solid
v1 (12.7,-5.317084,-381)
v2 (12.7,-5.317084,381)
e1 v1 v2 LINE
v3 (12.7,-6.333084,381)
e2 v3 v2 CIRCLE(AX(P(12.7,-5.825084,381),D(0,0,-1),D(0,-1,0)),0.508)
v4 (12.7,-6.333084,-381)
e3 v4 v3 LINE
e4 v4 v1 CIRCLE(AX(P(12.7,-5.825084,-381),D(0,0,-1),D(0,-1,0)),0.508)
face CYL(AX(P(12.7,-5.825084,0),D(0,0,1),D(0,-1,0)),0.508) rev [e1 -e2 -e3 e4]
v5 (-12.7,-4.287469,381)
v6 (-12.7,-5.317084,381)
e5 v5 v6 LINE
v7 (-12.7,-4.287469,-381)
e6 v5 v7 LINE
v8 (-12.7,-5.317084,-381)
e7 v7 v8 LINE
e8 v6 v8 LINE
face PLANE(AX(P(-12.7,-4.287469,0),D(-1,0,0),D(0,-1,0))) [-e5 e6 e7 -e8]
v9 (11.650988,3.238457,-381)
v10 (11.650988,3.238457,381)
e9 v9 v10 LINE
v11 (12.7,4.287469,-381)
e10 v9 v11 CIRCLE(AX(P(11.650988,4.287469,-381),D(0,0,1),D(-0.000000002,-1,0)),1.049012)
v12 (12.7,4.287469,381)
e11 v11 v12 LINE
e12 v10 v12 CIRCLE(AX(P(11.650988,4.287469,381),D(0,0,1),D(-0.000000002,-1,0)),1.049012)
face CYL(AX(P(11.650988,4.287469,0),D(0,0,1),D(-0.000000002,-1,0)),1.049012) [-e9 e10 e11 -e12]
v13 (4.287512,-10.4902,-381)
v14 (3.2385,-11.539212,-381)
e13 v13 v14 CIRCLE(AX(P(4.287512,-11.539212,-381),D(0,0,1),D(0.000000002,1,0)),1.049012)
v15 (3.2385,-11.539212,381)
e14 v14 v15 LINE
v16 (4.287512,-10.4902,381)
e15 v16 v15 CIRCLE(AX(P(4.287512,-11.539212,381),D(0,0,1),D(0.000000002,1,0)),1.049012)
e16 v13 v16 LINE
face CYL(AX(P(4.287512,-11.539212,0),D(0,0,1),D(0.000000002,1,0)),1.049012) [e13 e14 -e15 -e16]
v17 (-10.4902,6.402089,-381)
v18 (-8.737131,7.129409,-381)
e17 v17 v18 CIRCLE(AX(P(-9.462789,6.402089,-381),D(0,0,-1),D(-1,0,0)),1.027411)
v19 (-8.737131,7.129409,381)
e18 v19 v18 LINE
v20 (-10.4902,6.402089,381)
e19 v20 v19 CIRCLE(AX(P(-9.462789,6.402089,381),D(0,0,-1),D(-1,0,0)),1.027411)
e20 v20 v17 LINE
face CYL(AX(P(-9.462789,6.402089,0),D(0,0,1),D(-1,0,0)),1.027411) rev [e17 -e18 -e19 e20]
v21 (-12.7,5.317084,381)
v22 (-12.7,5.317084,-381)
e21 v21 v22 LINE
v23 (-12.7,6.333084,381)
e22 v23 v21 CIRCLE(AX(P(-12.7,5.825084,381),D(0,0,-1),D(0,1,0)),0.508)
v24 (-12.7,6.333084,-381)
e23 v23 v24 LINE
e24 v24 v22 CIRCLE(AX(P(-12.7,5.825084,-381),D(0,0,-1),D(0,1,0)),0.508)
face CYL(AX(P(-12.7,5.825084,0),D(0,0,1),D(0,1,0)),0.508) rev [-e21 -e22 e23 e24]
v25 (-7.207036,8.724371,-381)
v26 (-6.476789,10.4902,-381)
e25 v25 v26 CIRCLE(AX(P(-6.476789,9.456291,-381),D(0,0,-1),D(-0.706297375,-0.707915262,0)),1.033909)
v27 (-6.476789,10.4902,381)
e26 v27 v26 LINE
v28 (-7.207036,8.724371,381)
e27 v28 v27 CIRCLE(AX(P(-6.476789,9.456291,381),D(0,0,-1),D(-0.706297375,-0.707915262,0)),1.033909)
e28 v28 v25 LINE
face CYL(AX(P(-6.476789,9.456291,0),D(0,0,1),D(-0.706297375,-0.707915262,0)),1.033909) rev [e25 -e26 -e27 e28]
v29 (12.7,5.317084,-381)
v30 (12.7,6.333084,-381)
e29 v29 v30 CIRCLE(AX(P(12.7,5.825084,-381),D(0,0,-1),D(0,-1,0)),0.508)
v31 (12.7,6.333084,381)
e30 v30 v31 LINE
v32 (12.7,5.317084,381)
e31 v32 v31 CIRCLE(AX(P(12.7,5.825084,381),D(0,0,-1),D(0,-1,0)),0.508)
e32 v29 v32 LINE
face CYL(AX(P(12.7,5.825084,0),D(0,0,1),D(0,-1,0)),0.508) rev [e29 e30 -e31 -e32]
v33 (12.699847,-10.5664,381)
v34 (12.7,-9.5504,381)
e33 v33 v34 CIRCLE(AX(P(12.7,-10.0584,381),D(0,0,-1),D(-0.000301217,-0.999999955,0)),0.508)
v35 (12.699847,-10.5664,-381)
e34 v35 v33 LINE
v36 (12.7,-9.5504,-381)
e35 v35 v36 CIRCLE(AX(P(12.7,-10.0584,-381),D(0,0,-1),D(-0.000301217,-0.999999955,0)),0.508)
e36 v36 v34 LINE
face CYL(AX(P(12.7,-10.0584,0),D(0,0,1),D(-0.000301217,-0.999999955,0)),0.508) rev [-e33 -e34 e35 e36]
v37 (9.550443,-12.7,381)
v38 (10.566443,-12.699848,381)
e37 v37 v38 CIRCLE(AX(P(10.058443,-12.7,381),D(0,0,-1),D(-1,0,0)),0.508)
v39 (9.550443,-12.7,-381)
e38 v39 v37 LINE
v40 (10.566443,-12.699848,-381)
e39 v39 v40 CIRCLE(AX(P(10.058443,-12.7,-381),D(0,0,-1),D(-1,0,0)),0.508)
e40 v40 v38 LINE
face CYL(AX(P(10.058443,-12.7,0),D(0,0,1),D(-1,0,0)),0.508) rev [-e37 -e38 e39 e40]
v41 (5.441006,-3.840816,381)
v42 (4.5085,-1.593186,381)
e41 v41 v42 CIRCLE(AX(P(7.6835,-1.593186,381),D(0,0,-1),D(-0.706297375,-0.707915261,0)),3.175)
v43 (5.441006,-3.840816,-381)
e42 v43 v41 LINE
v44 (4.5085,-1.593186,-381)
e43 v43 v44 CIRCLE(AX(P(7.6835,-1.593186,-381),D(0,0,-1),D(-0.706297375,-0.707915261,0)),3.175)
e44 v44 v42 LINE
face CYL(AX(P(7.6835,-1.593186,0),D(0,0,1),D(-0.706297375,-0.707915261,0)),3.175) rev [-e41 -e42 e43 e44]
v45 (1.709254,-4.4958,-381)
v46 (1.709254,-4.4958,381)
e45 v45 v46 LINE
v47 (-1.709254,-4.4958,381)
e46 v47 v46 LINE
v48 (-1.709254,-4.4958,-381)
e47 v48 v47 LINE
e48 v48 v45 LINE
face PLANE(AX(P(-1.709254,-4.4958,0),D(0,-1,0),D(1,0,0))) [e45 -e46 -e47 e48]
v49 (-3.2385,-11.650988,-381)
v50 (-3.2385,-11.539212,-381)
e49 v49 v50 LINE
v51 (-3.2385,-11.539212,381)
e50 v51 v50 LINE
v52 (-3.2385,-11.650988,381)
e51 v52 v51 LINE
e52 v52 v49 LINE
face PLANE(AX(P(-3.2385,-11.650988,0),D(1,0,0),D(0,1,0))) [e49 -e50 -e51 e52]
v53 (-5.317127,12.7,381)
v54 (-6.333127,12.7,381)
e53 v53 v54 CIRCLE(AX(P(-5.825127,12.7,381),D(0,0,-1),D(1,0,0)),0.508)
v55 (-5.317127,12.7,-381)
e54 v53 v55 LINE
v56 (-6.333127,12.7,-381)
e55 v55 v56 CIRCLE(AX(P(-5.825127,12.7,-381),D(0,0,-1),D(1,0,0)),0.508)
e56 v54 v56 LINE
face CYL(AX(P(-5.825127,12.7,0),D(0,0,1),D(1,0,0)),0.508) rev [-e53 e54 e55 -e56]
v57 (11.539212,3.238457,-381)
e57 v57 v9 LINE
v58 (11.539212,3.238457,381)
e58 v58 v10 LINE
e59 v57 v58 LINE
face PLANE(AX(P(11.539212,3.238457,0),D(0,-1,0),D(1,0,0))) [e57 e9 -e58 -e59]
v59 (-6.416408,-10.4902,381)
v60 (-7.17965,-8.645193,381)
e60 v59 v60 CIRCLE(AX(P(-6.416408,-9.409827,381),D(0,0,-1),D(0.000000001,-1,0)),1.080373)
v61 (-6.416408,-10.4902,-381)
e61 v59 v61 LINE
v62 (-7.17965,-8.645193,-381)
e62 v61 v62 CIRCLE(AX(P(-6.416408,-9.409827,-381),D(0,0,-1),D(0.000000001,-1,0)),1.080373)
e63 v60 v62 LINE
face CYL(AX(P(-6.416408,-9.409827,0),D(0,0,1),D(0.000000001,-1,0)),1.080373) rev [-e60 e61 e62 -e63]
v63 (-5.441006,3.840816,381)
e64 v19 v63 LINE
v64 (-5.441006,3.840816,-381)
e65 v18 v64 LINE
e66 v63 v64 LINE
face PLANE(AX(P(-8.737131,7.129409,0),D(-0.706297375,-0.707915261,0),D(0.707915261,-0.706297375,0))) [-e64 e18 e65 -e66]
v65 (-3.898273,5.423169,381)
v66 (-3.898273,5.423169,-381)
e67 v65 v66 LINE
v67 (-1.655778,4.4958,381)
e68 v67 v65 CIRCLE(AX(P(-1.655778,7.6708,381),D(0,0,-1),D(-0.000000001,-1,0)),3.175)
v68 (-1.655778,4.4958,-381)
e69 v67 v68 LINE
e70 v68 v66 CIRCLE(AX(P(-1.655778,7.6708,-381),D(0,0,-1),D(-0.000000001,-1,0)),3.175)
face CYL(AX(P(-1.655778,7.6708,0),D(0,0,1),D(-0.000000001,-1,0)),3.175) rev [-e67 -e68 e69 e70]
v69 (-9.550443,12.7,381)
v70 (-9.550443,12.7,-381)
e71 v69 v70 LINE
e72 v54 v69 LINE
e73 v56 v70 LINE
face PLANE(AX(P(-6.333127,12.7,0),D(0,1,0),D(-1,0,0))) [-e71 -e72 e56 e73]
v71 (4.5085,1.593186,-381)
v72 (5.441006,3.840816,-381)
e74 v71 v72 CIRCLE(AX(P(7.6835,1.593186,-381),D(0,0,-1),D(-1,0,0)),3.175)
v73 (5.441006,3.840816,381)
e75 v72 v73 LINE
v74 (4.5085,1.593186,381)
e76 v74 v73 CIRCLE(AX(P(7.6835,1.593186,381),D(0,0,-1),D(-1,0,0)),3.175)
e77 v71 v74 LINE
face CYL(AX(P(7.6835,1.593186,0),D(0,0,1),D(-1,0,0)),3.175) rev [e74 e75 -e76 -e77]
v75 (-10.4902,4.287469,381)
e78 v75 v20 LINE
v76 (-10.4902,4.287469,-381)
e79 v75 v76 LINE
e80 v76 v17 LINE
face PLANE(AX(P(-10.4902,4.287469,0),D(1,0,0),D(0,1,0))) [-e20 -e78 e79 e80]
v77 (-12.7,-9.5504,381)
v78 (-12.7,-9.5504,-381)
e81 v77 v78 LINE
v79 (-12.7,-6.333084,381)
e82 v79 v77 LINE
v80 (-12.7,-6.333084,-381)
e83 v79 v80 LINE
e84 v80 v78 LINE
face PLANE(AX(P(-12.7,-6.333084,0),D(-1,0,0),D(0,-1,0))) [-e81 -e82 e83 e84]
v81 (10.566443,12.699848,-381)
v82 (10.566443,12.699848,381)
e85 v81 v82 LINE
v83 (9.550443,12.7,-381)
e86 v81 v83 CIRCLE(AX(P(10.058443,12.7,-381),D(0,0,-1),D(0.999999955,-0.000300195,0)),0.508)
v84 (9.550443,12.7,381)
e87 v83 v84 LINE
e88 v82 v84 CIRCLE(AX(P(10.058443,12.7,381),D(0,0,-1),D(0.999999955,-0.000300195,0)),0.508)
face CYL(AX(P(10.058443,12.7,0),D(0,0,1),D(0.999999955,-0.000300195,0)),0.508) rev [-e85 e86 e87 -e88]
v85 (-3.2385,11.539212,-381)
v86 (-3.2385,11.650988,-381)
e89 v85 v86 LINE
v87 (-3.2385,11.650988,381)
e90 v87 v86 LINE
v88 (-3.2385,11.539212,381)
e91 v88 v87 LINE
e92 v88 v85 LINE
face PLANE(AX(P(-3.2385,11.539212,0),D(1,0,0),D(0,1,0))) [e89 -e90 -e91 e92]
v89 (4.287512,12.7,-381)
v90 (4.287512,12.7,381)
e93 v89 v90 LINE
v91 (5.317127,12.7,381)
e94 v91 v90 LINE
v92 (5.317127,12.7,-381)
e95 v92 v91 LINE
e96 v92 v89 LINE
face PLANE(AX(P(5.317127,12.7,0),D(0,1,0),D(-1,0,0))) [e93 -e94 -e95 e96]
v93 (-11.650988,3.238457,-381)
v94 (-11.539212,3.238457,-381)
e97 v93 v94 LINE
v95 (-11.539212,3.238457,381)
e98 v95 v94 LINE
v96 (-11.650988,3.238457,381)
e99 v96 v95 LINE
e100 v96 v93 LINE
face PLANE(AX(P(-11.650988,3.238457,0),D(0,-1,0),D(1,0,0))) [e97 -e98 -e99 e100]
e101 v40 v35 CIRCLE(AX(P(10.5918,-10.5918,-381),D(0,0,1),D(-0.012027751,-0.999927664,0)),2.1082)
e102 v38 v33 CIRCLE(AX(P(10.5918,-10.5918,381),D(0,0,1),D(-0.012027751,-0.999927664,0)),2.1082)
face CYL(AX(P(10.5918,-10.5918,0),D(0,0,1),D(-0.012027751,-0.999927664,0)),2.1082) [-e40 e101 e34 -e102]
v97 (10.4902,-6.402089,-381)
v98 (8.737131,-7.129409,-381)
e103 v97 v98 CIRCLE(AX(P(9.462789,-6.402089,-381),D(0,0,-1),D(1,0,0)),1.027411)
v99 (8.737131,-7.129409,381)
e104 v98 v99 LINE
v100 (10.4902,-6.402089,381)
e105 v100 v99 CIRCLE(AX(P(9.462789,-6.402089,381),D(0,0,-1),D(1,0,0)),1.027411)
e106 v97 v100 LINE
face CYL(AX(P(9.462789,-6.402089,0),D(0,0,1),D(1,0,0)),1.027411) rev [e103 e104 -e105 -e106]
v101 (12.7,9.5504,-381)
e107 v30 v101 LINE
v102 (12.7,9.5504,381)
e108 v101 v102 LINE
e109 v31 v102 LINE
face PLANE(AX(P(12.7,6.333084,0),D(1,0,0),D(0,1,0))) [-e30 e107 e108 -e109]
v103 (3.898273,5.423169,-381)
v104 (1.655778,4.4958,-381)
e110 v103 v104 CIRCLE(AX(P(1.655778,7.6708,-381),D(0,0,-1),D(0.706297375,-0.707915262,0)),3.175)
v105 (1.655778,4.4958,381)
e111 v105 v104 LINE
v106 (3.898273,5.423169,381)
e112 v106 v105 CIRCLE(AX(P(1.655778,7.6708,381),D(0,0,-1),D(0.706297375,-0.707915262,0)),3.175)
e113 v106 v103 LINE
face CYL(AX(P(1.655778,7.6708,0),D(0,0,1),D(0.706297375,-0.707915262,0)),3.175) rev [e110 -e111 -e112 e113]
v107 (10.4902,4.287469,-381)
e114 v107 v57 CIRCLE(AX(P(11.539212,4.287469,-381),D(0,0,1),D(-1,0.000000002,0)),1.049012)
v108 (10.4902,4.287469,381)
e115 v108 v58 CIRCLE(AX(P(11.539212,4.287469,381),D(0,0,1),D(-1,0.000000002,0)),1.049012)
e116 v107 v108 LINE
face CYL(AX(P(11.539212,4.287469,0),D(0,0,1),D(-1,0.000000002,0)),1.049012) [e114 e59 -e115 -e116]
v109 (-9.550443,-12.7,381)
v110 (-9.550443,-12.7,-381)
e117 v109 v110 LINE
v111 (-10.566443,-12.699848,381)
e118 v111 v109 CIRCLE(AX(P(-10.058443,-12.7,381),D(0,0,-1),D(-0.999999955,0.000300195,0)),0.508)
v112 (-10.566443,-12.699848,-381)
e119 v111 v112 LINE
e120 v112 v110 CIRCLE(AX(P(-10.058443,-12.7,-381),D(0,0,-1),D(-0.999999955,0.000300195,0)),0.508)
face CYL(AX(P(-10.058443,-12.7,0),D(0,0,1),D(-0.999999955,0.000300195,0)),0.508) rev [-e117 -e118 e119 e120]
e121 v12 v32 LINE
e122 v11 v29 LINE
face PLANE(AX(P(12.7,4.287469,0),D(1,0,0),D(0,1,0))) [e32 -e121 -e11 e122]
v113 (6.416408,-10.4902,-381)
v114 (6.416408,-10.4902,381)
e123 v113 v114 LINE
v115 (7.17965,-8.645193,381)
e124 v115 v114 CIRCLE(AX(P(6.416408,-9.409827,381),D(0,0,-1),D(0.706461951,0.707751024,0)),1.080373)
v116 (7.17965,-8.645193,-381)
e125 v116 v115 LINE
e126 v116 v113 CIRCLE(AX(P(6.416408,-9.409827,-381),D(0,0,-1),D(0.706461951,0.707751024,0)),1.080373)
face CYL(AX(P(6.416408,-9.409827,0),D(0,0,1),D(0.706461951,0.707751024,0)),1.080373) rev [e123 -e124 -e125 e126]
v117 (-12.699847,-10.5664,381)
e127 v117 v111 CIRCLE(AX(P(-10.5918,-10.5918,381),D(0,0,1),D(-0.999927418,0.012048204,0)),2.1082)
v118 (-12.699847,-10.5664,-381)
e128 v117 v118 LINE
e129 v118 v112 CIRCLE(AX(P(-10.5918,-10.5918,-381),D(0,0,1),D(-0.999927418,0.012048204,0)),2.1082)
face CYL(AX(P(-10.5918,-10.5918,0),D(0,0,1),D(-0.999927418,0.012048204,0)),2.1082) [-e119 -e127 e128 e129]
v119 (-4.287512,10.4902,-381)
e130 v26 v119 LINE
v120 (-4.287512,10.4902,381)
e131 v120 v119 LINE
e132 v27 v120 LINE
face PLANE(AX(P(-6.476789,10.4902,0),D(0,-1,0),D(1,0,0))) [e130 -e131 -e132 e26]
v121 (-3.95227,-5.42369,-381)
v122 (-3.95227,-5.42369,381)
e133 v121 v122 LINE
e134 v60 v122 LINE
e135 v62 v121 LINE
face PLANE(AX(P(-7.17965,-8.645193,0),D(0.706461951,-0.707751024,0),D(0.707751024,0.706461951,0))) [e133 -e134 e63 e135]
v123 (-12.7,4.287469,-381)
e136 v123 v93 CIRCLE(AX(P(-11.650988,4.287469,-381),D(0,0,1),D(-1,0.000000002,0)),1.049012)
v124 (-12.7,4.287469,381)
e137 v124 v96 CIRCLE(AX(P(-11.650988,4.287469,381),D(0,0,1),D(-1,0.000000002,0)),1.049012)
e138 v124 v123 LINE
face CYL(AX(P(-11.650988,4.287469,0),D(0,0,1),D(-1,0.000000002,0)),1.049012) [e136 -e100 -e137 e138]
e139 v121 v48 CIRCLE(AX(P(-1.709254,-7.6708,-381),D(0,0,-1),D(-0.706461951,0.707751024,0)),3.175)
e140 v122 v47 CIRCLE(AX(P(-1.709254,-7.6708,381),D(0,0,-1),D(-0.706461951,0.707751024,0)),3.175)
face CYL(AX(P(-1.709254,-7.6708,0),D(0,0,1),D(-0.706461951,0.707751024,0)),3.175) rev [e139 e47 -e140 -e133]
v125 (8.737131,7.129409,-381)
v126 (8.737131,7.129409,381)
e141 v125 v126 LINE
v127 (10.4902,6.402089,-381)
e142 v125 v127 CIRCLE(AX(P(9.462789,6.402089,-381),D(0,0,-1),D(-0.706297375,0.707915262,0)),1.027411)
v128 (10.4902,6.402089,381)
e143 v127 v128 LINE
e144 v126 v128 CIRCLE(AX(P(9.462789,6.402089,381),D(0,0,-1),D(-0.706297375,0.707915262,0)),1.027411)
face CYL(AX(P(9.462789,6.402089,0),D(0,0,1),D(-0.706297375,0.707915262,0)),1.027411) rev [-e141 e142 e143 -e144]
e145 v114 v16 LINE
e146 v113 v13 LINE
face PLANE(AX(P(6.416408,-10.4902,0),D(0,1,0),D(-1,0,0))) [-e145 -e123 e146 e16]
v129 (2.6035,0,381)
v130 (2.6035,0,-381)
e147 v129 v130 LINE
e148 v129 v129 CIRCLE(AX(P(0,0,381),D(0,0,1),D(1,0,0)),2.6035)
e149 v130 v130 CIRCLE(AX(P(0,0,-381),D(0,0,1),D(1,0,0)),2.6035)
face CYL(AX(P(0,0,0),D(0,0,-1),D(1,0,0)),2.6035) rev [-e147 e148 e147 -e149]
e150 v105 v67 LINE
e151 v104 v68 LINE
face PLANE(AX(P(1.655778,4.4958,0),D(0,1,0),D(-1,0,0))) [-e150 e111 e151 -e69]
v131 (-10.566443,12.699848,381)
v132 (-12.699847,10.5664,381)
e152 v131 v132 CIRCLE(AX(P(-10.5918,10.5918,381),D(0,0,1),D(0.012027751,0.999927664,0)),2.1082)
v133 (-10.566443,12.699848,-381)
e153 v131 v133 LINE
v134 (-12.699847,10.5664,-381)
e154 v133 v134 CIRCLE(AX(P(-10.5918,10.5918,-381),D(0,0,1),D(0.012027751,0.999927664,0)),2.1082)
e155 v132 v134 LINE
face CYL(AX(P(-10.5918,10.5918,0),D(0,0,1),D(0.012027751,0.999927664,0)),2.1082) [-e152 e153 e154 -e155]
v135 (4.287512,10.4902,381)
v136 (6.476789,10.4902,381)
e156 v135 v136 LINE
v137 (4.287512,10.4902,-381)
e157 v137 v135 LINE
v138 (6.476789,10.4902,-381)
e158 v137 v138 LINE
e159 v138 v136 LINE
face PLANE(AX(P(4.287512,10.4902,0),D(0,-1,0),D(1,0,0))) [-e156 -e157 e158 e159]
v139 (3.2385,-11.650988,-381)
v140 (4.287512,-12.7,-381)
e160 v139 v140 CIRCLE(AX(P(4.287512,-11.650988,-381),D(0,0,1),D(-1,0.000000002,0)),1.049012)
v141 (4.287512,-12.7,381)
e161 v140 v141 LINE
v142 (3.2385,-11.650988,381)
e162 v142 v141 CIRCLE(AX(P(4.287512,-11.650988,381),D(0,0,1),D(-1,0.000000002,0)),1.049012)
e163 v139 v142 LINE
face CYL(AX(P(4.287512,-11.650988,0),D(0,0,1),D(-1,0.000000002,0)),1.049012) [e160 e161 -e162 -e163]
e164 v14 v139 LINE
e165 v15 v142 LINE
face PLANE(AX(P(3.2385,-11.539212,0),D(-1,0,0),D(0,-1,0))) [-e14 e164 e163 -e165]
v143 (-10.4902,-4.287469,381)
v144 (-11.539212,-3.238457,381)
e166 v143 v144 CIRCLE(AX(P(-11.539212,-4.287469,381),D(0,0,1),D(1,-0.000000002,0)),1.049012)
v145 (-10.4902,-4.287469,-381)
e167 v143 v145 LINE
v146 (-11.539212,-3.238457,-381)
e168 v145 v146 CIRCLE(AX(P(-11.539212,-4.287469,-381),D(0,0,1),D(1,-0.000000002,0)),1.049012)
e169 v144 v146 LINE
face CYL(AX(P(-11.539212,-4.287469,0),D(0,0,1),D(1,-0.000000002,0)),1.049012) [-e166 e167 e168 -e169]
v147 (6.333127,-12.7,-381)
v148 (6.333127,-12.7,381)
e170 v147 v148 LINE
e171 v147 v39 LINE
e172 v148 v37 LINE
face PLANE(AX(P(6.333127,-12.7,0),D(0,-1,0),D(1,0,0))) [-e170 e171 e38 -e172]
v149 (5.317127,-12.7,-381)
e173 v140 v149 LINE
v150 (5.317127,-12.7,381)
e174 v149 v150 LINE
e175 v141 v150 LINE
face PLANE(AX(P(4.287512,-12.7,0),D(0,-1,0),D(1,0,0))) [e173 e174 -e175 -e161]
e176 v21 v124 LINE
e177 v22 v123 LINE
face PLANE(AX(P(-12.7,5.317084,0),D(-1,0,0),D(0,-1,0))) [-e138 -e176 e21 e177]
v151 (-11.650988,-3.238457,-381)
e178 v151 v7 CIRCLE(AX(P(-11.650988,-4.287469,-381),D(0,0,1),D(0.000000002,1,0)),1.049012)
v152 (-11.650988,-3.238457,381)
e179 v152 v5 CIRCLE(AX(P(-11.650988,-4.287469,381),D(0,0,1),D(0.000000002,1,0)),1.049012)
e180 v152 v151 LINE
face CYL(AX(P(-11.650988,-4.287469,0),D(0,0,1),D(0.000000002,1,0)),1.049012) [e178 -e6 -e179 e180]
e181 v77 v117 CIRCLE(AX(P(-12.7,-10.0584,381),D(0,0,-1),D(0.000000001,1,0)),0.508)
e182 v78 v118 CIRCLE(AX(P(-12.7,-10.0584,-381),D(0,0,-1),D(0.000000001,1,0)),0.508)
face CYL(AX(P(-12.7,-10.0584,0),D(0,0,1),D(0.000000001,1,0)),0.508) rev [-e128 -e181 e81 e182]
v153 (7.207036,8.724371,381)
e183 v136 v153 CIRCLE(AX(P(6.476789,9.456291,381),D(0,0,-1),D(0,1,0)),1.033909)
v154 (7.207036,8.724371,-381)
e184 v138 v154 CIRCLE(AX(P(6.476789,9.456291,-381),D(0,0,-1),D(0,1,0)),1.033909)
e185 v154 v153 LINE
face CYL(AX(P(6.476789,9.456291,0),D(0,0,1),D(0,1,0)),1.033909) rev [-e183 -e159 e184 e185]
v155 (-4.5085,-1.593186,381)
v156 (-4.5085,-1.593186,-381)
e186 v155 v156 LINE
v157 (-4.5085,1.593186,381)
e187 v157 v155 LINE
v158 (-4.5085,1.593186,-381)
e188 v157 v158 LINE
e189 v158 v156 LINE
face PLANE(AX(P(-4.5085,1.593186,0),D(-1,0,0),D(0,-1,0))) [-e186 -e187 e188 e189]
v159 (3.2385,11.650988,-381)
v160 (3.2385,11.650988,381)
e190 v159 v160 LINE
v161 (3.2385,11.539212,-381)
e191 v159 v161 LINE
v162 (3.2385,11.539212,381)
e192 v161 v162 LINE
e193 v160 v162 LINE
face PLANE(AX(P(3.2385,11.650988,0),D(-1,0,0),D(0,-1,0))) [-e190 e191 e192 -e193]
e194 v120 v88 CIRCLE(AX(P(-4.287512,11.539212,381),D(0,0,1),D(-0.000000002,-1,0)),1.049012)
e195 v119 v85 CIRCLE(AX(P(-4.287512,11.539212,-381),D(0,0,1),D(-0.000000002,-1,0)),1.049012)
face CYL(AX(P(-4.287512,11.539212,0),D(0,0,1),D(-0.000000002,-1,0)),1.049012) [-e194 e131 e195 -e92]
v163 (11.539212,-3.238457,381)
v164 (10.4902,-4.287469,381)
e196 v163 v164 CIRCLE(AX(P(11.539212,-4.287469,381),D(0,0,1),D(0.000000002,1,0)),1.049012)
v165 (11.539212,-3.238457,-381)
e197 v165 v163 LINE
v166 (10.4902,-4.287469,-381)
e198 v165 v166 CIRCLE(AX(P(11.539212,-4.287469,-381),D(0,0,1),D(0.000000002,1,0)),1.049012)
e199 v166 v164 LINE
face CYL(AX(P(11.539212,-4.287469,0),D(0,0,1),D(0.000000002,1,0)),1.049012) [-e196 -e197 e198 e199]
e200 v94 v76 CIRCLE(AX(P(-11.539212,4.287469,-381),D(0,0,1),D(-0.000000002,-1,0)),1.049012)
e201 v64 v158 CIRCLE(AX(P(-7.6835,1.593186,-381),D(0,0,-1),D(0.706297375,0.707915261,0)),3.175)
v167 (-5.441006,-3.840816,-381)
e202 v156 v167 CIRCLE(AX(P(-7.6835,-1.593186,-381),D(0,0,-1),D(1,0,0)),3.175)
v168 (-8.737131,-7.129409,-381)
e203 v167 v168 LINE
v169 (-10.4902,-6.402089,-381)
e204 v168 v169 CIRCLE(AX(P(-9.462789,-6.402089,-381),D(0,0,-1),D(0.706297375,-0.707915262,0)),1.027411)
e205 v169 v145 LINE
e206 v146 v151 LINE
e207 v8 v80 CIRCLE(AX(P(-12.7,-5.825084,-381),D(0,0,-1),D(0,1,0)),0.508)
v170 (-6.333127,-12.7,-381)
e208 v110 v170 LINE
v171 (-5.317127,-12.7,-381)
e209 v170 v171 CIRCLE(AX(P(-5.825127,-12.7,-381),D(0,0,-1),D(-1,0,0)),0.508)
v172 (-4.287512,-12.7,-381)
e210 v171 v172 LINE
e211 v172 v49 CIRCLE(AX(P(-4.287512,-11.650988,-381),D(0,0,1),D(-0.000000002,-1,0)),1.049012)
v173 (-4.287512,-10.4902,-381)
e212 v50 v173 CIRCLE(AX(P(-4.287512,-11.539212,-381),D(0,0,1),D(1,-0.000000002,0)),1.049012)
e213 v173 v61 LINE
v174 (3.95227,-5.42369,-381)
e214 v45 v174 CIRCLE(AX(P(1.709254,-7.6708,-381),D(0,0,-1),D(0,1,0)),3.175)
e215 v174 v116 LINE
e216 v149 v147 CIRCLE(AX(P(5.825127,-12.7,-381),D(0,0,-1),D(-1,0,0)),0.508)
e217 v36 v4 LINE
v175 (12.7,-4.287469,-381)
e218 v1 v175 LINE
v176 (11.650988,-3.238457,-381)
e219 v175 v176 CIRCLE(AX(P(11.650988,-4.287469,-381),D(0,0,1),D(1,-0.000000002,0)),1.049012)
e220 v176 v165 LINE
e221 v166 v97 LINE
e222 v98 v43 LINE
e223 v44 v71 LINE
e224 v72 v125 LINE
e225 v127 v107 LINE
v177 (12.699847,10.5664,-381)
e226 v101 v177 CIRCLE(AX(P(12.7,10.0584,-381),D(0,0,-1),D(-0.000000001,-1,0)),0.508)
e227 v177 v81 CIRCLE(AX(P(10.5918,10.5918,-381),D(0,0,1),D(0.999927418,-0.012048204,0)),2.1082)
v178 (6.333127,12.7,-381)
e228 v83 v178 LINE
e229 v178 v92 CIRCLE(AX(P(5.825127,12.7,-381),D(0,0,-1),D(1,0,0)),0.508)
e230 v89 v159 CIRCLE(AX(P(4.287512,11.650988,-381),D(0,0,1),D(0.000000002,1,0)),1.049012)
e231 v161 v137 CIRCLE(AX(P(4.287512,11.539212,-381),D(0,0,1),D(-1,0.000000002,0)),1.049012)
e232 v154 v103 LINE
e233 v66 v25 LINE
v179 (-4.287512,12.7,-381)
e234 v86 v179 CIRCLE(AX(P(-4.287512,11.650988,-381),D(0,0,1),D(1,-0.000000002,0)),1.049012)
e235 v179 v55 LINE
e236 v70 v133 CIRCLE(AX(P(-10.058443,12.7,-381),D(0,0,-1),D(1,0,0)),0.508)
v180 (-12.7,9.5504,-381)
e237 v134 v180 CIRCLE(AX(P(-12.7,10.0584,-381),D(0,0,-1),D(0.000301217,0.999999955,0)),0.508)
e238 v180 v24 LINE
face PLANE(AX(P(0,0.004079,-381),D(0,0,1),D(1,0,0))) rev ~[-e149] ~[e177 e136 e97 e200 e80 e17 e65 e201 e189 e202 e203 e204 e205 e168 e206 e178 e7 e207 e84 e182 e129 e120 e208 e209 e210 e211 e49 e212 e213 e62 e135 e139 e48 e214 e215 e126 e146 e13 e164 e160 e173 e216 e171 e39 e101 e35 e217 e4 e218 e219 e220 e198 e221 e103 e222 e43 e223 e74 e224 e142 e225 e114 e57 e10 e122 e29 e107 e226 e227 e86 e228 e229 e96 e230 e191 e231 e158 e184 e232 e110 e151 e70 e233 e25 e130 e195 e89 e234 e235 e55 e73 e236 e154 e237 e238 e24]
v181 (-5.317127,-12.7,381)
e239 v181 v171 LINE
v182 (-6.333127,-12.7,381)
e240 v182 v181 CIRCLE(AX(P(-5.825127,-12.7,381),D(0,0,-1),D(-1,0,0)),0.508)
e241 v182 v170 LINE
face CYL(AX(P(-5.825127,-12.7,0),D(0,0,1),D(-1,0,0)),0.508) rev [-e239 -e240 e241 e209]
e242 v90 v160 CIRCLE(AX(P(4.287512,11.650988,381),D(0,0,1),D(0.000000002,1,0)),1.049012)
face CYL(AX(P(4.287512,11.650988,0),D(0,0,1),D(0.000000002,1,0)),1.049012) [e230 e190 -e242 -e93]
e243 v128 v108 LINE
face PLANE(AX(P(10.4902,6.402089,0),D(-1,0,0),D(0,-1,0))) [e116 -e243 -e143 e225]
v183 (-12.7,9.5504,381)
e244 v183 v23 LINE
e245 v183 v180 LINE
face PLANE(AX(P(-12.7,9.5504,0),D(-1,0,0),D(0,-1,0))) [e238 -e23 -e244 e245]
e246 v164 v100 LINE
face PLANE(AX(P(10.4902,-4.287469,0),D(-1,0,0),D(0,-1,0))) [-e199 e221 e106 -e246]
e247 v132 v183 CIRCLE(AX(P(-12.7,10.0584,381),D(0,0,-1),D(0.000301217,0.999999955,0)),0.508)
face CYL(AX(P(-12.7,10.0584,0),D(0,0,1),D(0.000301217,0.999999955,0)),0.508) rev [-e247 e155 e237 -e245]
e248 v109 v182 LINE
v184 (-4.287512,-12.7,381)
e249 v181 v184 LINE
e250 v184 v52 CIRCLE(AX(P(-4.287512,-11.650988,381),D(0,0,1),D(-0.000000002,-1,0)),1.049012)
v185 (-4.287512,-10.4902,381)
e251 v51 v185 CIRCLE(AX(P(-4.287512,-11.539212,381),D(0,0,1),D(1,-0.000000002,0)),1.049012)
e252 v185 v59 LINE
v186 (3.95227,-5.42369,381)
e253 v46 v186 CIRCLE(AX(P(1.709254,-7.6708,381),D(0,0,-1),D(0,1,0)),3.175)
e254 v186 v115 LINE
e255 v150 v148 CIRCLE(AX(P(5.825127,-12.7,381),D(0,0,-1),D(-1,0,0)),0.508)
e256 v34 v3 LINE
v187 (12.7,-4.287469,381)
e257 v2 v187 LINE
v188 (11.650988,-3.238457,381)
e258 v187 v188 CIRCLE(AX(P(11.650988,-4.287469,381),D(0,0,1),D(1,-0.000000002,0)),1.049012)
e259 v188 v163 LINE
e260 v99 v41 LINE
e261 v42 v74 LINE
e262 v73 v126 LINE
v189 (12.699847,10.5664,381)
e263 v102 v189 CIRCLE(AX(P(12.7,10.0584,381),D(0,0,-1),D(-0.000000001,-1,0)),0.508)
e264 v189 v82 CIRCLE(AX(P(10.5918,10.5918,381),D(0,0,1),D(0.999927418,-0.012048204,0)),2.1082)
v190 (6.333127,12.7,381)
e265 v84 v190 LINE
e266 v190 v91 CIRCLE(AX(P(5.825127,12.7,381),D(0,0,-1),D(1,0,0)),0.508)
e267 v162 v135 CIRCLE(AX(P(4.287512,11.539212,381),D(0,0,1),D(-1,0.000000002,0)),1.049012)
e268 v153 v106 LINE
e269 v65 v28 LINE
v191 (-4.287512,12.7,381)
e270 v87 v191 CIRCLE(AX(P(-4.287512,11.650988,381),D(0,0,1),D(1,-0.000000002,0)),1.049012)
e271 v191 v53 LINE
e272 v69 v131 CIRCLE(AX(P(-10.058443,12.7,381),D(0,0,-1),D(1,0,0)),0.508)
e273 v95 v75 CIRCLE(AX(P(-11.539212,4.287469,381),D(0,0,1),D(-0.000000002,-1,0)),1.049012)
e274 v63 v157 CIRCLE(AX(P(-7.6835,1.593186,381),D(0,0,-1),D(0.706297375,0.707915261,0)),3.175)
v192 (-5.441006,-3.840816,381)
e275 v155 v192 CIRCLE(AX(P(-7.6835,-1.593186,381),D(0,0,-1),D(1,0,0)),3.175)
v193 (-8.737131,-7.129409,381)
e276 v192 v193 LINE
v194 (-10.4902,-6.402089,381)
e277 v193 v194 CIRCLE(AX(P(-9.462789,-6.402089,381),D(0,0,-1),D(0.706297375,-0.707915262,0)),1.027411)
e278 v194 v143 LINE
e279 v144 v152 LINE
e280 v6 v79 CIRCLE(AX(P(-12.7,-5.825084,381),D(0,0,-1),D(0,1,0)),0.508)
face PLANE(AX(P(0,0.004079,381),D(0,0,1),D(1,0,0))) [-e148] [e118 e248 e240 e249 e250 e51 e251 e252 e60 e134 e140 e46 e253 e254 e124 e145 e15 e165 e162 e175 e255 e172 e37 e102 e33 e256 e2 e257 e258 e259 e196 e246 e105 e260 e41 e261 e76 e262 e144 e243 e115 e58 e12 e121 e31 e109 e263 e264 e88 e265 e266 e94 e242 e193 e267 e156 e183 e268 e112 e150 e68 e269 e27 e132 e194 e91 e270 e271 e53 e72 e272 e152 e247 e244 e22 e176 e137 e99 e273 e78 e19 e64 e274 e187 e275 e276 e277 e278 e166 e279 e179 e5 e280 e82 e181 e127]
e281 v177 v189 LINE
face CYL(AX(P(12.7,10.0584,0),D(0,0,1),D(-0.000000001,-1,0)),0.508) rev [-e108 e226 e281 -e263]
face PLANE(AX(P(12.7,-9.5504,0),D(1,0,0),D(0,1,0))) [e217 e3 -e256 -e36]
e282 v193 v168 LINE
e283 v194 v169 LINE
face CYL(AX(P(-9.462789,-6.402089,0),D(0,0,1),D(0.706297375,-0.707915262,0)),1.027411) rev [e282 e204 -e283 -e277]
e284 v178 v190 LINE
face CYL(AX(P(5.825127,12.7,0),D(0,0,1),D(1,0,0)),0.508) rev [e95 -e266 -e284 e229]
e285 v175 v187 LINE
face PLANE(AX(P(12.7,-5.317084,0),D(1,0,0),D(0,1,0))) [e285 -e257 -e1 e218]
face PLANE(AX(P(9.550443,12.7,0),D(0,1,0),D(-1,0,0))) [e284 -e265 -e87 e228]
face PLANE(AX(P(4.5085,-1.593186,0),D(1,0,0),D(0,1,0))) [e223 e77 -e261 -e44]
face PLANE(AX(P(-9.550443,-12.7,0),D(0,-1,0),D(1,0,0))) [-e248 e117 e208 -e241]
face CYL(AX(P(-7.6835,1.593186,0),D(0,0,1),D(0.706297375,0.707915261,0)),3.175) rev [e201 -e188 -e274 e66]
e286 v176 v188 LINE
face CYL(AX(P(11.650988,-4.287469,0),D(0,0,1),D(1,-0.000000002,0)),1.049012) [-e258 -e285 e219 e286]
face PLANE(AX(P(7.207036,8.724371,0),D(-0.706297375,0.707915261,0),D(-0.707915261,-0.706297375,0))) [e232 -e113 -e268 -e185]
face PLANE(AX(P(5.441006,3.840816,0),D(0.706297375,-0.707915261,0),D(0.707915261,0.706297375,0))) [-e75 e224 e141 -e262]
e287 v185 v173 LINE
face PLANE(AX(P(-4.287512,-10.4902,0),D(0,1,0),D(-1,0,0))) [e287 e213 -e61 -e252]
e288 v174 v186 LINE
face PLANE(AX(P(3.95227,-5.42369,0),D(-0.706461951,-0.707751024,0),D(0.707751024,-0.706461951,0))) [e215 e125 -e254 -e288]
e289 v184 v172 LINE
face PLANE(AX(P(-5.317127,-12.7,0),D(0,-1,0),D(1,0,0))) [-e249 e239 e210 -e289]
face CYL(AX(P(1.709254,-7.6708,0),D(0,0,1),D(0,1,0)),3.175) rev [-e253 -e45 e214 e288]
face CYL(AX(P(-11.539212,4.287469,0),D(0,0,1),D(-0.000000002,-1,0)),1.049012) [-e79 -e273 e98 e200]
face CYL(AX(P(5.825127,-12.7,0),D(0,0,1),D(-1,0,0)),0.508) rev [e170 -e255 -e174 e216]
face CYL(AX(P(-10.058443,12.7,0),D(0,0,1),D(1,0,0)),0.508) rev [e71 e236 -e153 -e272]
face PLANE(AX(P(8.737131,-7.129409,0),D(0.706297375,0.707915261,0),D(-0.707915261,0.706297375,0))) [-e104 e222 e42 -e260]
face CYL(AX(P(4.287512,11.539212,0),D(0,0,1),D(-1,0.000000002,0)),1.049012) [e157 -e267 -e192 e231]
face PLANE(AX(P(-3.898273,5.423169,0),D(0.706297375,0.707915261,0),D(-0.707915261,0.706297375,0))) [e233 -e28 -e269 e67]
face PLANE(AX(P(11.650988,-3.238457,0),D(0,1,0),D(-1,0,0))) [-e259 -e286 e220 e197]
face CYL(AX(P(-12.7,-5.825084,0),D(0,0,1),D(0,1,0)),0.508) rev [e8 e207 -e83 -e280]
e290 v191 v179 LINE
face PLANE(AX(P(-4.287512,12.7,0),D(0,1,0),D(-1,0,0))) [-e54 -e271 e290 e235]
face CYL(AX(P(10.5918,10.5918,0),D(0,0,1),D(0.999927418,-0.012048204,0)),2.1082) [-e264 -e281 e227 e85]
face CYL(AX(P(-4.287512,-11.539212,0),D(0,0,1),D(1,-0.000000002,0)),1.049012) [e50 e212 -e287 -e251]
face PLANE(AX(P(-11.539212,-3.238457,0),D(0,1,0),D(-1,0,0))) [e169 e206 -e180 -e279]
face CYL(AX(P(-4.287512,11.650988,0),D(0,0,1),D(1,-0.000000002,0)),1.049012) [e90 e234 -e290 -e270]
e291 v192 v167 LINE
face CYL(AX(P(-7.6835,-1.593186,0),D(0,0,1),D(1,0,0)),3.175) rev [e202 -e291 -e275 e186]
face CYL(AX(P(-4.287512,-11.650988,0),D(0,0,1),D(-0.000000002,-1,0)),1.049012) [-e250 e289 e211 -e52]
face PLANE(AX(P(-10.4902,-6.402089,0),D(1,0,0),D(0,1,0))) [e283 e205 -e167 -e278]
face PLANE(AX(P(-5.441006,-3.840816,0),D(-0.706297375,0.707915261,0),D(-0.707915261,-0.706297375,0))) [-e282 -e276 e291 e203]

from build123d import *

# Parameters (mm, degrees)
SKETCH1_R           = 2.6035
BOSS_EXTRUDE1_DEPTH = 381


with BuildPart() as part:
    # Sketch1 → Boss-Extrude1 (new body, symmetric)
    with BuildSketch(Plane.XY):
        with BuildLine():
            Line((-7.179650497, -8.645192506), (-3.952270251, -5.423690499))
            ThreePointArc((-3.952270251, -5.423690499), (-2.922936451, -4.736929036), (-1.709253557, -4.4958))
            Line((-1.709253557, -4.4958), (1.709253557, -4.4958))
            ThreePointArc((1.709253557, -4.4958), (2.922936451, -4.736929036), (3.952270251, -5.423690499))
            Line((3.952270251, -5.423690499), (7.179650497, -8.645192506))
            ThreePointArc((7.179650497, -8.645192506), (7.41473083, -9.822813117), (6.416408329, -10.4902))
            Line((6.416408329, -10.4902), (4.287512407, -10.4902))
            ThreePointArc((4.287512407, -10.4902), (3.54574862, -10.79744862), (3.2385, -11.539212407))
            Line((3.2385, -11.539212407), (3.2385, -11.650987593))
            ThreePointArc((3.2385, -11.650987593), (3.54574862, -12.39275138), (4.287512407, -12.7))
            Line((4.287512407, -12.7), (5.317126718, -12.7))
            ThreePointArc((5.317126718, -12.7), (5.825126718, -12.192), (6.333126718, -12.7))
            Line((6.333126718, -12.7), (9.550443118, -12.7))
            ThreePointArc((9.550443118, -12.7), (10.058366869, -12.192000006), (10.566443095, -12.699847501))
            ThreePointArc((10.566443095, -12.699847501), (12.082537762, -12.08250727), (12.699846982, -10.566399977))
            ThreePointArc((12.699846982, -10.566399977), (12.192000006, -10.058323491), (12.7, -9.5504))
            Line((12.7, -9.5504), (12.7, -6.3330836))
            ThreePointArc((12.7, -6.3330836), (12.192, -5.8250836), (12.7, -5.3170836))
            Line((12.7, -5.3170836), (12.7, -4.287469289))
            ThreePointArc((12.7, -4.287469289), (12.39275138, -3.545705502), (11.650987593, -3.238456882))
            Line((11.650987593, -3.238456882), (11.539212407, -3.238456882))
            ThreePointArc((11.539212407, -3.238456882), (10.79744862, -3.545705502), (10.4902, -4.287469289))
            Line((10.4902, -4.287469289), (10.4902, -6.402089023))
            ThreePointArc((10.4902, -6.402089023), (9.856505071, -7.351067942), (8.737131347, -7.129408934))
            Line((8.737131347, -7.129408934), (5.441005833, -3.840816462))
            ThreePointArc((5.441005833, -3.840816462), (4.750877967, -2.809883091), (4.5085, -1.593185507))
            Line((4.5085, -1.593185507), (4.5085, 1.593185507))
            ThreePointArc((4.5085, 1.593185507), (4.750877967, 2.809883091), (5.441005833, 3.840816462))
            Line((5.441005833, 3.840816462), (8.737131347, 7.129408934))
            ThreePointArc((8.737131347, 7.129408934), (9.856505071, 7.351067942), (10.4902, 6.402089023))
            Line((10.4902, 6.402089023), (10.4902, 4.287469289))
            ThreePointArc((10.4902, 4.287469289), (10.79744862, 3.545705502), (11.539212407, 3.238456882))
            Line((11.539212407, 3.238456882), (11.650987593, 3.238456882))
            ThreePointArc((11.650987593, 3.238456882), (12.39275138, 3.545705502), (12.7, 4.287469289))
            Line((12.7, 4.287469289), (12.7, 5.3170836))
            ThreePointArc((12.7, 5.3170836), (12.192, 5.8250836), (12.7, 6.3330836))
            Line((12.7, 6.3330836), (12.7, 9.5504))
            ThreePointArc((12.7, 9.5504), (12.192000006, 10.058323491), (12.699846982, 10.566399977))
            ThreePointArc((12.699846982, 10.566399977), (12.082537762, 12.08250727), (10.566443095, 12.699847501))
            ThreePointArc((10.566443095, 12.699847501), (10.058366869, 12.192000006), (9.550443118, 12.7))
            Line((9.550443118, 12.7), (6.333126718, 12.7))
            ThreePointArc((6.333126718, 12.7), (5.825126718, 12.192), (5.317126718, 12.7))
            Line((5.317126718, 12.7), (4.287512407, 12.7))
            ThreePointArc((4.287512407, 12.7), (3.54574862, 12.39275138), (3.2385, 11.650987593))
            Line((3.2385, 11.650987593), (3.2385, 11.539212407))
            ThreePointArc((3.2385, 11.539212407), (3.54574862, 10.79744862), (4.287512407, 10.4902))
            Line((4.287512407, 10.4902), (6.476788598, 10.4902))
            ThreePointArc((6.476788598, 10.4902), (7.432222385, 9.85140422), (7.207036008, 8.724370562))
            Line((7.207036008, 8.724370562), (3.898272566, 5.423169045))
            ThreePointArc((3.898272566, 5.423169045), (2.869120213, 4.736787962), (1.655778399, 4.4958))
            Line((1.655778399, 4.4958), (-1.655778399, 4.4958))
            ThreePointArc((-1.655778399, 4.4958), (-2.869120213, 4.736787962), (-3.898272566, 5.423169045))
            Line((-3.898272566, 5.423169045), (-7.207036008, 8.724370562))
            ThreePointArc((-7.207036008, 8.724370562), (-7.432222385, 9.85140422), (-6.476788598, 10.4902))
            Line((-6.476788598, 10.4902), (-4.287512407, 10.4902))
            ThreePointArc((-4.287512407, 10.4902), (-3.54574862, 10.79744862), (-3.2385, 11.539212407))
            Line((-3.2385, 11.539212407), (-3.2385, 11.650987593))
            ThreePointArc((-3.2385, 11.650987593), (-3.54574862, 12.39275138), (-4.287512407, 12.7))
            Line((-4.287512407, 12.7), (-5.317126718, 12.7))
            ThreePointArc((-5.317126718, 12.7), (-5.825126718, 12.192), (-6.333126718, 12.7))
            Line((-6.333126718, 12.7), (-9.550443118, 12.7))
            ThreePointArc((-9.550443118, 12.7), (-10.058366869, 12.192000006), (-10.566443095, 12.699847501))
            ThreePointArc((-10.566443095, 12.699847501), (-12.082537762, 12.08250727), (-12.699846982, 10.566399977))
            ThreePointArc((-12.699846982, 10.566399977), (-12.192000006, 10.058323491), (-12.7, 9.5504))
            Line((-12.7, 9.5504), (-12.7, 6.3330836))
            ThreePointArc((-12.7, 6.3330836), (-12.192, 5.8250836), (-12.7, 5.3170836))
            Line((-12.7, 5.3170836), (-12.7, 4.287469289))
            ThreePointArc((-12.7, 4.287469289), (-12.39275138, 3.545705502), (-11.650987593, 3.238456882))
            Line((-11.650987593, 3.238456882), (-11.539212407, 3.238456882))
            ThreePointArc((-11.539212407, 3.238456882), (-10.79744862, 3.545705502), (-10.4902, 4.287469289))
            Line((-10.4902, 4.287469289), (-10.4902, 6.402089023))
            ThreePointArc((-10.4902, 6.402089023), (-9.856505071, 7.351067942), (-8.737131347, 7.129408934))
            Line((-8.737131347, 7.129408934), (-5.441005833, 3.840816462))
            ThreePointArc((-5.441005833, 3.840816462), (-4.750877967, 2.809883091), (-4.5085, 1.593185507))
            Line((-4.5085, 1.593185507), (-4.5085, -1.593185507))
            ThreePointArc((-4.5085, -1.593185507), (-4.750877967, -2.809883091), (-5.441005833, -3.840816462))
            Line((-5.441005833, -3.840816462), (-8.737131347, -7.129408934))
            ThreePointArc((-8.737131347, -7.129408934), (-9.856505071, -7.351067942), (-10.4902, -6.402089023))
            Line((-10.4902, -6.402089023), (-10.4902, -4.287469289))
            ThreePointArc((-10.4902, -4.287469289), (-10.79744862, -3.545705502), (-11.539212407, -3.238456882))
            Line((-11.539212407, -3.238456882), (-11.650987593, -3.238456882))
            ThreePointArc((-11.650987593, -3.238456882), (-12.39275138, -3.545705502), (-12.7, -4.287469289))
            Line((-12.7, -4.287469289), (-12.7, -5.3170836))
            ThreePointArc((-12.7, -5.3170836), (-12.192, -5.8250836), (-12.7, -6.3330836))
            Line((-12.7, -6.3330836), (-12.7, -9.5504))
            ThreePointArc((-12.7, -9.5504), (-12.192000006, -10.058323491), (-12.699846982, -10.566399977))
            ThreePointArc((-12.699846982, -10.566399977), (-12.082537762, -12.08250727), (-10.566443095, -12.699847501))
            ThreePointArc((-10.566443095, -12.699847501), (-10.058366869, -12.192000006), (-9.550443118, -12.7))
            Line((-9.550443118, -12.7), (-6.333126718, -12.7))
            ThreePointArc((-6.333126718, -12.7), (-5.825126718, -12.192), (-5.317126718, -12.7))
            Line((-5.317126718, -12.7), (-4.287512407, -12.7))
            ThreePointArc((-4.287512407, -12.7), (-3.54574862, -12.39275138), (-3.2385, -11.650987593))
            Line((-3.2385, -11.650987593), (-3.2385, -11.539212407))
            ThreePointArc((-3.2385, -11.539212407), (-3.54574862, -10.79744862), (-4.287512407, -10.4902))
            Line((-4.287512407, -10.4902), (-6.416408329, -10.4902))
            ThreePointArc((-6.416408329, -10.4902), (-7.41473083, -9.822813117), (-7.179650497, -8.645192506))
        make_face()
        Circle(SKETCH1_R, mode=Mode.SUBTRACT)
    extrude(amount=BOSS_EXTRUDE1_DEPTH, both=True)


solid = part.part
